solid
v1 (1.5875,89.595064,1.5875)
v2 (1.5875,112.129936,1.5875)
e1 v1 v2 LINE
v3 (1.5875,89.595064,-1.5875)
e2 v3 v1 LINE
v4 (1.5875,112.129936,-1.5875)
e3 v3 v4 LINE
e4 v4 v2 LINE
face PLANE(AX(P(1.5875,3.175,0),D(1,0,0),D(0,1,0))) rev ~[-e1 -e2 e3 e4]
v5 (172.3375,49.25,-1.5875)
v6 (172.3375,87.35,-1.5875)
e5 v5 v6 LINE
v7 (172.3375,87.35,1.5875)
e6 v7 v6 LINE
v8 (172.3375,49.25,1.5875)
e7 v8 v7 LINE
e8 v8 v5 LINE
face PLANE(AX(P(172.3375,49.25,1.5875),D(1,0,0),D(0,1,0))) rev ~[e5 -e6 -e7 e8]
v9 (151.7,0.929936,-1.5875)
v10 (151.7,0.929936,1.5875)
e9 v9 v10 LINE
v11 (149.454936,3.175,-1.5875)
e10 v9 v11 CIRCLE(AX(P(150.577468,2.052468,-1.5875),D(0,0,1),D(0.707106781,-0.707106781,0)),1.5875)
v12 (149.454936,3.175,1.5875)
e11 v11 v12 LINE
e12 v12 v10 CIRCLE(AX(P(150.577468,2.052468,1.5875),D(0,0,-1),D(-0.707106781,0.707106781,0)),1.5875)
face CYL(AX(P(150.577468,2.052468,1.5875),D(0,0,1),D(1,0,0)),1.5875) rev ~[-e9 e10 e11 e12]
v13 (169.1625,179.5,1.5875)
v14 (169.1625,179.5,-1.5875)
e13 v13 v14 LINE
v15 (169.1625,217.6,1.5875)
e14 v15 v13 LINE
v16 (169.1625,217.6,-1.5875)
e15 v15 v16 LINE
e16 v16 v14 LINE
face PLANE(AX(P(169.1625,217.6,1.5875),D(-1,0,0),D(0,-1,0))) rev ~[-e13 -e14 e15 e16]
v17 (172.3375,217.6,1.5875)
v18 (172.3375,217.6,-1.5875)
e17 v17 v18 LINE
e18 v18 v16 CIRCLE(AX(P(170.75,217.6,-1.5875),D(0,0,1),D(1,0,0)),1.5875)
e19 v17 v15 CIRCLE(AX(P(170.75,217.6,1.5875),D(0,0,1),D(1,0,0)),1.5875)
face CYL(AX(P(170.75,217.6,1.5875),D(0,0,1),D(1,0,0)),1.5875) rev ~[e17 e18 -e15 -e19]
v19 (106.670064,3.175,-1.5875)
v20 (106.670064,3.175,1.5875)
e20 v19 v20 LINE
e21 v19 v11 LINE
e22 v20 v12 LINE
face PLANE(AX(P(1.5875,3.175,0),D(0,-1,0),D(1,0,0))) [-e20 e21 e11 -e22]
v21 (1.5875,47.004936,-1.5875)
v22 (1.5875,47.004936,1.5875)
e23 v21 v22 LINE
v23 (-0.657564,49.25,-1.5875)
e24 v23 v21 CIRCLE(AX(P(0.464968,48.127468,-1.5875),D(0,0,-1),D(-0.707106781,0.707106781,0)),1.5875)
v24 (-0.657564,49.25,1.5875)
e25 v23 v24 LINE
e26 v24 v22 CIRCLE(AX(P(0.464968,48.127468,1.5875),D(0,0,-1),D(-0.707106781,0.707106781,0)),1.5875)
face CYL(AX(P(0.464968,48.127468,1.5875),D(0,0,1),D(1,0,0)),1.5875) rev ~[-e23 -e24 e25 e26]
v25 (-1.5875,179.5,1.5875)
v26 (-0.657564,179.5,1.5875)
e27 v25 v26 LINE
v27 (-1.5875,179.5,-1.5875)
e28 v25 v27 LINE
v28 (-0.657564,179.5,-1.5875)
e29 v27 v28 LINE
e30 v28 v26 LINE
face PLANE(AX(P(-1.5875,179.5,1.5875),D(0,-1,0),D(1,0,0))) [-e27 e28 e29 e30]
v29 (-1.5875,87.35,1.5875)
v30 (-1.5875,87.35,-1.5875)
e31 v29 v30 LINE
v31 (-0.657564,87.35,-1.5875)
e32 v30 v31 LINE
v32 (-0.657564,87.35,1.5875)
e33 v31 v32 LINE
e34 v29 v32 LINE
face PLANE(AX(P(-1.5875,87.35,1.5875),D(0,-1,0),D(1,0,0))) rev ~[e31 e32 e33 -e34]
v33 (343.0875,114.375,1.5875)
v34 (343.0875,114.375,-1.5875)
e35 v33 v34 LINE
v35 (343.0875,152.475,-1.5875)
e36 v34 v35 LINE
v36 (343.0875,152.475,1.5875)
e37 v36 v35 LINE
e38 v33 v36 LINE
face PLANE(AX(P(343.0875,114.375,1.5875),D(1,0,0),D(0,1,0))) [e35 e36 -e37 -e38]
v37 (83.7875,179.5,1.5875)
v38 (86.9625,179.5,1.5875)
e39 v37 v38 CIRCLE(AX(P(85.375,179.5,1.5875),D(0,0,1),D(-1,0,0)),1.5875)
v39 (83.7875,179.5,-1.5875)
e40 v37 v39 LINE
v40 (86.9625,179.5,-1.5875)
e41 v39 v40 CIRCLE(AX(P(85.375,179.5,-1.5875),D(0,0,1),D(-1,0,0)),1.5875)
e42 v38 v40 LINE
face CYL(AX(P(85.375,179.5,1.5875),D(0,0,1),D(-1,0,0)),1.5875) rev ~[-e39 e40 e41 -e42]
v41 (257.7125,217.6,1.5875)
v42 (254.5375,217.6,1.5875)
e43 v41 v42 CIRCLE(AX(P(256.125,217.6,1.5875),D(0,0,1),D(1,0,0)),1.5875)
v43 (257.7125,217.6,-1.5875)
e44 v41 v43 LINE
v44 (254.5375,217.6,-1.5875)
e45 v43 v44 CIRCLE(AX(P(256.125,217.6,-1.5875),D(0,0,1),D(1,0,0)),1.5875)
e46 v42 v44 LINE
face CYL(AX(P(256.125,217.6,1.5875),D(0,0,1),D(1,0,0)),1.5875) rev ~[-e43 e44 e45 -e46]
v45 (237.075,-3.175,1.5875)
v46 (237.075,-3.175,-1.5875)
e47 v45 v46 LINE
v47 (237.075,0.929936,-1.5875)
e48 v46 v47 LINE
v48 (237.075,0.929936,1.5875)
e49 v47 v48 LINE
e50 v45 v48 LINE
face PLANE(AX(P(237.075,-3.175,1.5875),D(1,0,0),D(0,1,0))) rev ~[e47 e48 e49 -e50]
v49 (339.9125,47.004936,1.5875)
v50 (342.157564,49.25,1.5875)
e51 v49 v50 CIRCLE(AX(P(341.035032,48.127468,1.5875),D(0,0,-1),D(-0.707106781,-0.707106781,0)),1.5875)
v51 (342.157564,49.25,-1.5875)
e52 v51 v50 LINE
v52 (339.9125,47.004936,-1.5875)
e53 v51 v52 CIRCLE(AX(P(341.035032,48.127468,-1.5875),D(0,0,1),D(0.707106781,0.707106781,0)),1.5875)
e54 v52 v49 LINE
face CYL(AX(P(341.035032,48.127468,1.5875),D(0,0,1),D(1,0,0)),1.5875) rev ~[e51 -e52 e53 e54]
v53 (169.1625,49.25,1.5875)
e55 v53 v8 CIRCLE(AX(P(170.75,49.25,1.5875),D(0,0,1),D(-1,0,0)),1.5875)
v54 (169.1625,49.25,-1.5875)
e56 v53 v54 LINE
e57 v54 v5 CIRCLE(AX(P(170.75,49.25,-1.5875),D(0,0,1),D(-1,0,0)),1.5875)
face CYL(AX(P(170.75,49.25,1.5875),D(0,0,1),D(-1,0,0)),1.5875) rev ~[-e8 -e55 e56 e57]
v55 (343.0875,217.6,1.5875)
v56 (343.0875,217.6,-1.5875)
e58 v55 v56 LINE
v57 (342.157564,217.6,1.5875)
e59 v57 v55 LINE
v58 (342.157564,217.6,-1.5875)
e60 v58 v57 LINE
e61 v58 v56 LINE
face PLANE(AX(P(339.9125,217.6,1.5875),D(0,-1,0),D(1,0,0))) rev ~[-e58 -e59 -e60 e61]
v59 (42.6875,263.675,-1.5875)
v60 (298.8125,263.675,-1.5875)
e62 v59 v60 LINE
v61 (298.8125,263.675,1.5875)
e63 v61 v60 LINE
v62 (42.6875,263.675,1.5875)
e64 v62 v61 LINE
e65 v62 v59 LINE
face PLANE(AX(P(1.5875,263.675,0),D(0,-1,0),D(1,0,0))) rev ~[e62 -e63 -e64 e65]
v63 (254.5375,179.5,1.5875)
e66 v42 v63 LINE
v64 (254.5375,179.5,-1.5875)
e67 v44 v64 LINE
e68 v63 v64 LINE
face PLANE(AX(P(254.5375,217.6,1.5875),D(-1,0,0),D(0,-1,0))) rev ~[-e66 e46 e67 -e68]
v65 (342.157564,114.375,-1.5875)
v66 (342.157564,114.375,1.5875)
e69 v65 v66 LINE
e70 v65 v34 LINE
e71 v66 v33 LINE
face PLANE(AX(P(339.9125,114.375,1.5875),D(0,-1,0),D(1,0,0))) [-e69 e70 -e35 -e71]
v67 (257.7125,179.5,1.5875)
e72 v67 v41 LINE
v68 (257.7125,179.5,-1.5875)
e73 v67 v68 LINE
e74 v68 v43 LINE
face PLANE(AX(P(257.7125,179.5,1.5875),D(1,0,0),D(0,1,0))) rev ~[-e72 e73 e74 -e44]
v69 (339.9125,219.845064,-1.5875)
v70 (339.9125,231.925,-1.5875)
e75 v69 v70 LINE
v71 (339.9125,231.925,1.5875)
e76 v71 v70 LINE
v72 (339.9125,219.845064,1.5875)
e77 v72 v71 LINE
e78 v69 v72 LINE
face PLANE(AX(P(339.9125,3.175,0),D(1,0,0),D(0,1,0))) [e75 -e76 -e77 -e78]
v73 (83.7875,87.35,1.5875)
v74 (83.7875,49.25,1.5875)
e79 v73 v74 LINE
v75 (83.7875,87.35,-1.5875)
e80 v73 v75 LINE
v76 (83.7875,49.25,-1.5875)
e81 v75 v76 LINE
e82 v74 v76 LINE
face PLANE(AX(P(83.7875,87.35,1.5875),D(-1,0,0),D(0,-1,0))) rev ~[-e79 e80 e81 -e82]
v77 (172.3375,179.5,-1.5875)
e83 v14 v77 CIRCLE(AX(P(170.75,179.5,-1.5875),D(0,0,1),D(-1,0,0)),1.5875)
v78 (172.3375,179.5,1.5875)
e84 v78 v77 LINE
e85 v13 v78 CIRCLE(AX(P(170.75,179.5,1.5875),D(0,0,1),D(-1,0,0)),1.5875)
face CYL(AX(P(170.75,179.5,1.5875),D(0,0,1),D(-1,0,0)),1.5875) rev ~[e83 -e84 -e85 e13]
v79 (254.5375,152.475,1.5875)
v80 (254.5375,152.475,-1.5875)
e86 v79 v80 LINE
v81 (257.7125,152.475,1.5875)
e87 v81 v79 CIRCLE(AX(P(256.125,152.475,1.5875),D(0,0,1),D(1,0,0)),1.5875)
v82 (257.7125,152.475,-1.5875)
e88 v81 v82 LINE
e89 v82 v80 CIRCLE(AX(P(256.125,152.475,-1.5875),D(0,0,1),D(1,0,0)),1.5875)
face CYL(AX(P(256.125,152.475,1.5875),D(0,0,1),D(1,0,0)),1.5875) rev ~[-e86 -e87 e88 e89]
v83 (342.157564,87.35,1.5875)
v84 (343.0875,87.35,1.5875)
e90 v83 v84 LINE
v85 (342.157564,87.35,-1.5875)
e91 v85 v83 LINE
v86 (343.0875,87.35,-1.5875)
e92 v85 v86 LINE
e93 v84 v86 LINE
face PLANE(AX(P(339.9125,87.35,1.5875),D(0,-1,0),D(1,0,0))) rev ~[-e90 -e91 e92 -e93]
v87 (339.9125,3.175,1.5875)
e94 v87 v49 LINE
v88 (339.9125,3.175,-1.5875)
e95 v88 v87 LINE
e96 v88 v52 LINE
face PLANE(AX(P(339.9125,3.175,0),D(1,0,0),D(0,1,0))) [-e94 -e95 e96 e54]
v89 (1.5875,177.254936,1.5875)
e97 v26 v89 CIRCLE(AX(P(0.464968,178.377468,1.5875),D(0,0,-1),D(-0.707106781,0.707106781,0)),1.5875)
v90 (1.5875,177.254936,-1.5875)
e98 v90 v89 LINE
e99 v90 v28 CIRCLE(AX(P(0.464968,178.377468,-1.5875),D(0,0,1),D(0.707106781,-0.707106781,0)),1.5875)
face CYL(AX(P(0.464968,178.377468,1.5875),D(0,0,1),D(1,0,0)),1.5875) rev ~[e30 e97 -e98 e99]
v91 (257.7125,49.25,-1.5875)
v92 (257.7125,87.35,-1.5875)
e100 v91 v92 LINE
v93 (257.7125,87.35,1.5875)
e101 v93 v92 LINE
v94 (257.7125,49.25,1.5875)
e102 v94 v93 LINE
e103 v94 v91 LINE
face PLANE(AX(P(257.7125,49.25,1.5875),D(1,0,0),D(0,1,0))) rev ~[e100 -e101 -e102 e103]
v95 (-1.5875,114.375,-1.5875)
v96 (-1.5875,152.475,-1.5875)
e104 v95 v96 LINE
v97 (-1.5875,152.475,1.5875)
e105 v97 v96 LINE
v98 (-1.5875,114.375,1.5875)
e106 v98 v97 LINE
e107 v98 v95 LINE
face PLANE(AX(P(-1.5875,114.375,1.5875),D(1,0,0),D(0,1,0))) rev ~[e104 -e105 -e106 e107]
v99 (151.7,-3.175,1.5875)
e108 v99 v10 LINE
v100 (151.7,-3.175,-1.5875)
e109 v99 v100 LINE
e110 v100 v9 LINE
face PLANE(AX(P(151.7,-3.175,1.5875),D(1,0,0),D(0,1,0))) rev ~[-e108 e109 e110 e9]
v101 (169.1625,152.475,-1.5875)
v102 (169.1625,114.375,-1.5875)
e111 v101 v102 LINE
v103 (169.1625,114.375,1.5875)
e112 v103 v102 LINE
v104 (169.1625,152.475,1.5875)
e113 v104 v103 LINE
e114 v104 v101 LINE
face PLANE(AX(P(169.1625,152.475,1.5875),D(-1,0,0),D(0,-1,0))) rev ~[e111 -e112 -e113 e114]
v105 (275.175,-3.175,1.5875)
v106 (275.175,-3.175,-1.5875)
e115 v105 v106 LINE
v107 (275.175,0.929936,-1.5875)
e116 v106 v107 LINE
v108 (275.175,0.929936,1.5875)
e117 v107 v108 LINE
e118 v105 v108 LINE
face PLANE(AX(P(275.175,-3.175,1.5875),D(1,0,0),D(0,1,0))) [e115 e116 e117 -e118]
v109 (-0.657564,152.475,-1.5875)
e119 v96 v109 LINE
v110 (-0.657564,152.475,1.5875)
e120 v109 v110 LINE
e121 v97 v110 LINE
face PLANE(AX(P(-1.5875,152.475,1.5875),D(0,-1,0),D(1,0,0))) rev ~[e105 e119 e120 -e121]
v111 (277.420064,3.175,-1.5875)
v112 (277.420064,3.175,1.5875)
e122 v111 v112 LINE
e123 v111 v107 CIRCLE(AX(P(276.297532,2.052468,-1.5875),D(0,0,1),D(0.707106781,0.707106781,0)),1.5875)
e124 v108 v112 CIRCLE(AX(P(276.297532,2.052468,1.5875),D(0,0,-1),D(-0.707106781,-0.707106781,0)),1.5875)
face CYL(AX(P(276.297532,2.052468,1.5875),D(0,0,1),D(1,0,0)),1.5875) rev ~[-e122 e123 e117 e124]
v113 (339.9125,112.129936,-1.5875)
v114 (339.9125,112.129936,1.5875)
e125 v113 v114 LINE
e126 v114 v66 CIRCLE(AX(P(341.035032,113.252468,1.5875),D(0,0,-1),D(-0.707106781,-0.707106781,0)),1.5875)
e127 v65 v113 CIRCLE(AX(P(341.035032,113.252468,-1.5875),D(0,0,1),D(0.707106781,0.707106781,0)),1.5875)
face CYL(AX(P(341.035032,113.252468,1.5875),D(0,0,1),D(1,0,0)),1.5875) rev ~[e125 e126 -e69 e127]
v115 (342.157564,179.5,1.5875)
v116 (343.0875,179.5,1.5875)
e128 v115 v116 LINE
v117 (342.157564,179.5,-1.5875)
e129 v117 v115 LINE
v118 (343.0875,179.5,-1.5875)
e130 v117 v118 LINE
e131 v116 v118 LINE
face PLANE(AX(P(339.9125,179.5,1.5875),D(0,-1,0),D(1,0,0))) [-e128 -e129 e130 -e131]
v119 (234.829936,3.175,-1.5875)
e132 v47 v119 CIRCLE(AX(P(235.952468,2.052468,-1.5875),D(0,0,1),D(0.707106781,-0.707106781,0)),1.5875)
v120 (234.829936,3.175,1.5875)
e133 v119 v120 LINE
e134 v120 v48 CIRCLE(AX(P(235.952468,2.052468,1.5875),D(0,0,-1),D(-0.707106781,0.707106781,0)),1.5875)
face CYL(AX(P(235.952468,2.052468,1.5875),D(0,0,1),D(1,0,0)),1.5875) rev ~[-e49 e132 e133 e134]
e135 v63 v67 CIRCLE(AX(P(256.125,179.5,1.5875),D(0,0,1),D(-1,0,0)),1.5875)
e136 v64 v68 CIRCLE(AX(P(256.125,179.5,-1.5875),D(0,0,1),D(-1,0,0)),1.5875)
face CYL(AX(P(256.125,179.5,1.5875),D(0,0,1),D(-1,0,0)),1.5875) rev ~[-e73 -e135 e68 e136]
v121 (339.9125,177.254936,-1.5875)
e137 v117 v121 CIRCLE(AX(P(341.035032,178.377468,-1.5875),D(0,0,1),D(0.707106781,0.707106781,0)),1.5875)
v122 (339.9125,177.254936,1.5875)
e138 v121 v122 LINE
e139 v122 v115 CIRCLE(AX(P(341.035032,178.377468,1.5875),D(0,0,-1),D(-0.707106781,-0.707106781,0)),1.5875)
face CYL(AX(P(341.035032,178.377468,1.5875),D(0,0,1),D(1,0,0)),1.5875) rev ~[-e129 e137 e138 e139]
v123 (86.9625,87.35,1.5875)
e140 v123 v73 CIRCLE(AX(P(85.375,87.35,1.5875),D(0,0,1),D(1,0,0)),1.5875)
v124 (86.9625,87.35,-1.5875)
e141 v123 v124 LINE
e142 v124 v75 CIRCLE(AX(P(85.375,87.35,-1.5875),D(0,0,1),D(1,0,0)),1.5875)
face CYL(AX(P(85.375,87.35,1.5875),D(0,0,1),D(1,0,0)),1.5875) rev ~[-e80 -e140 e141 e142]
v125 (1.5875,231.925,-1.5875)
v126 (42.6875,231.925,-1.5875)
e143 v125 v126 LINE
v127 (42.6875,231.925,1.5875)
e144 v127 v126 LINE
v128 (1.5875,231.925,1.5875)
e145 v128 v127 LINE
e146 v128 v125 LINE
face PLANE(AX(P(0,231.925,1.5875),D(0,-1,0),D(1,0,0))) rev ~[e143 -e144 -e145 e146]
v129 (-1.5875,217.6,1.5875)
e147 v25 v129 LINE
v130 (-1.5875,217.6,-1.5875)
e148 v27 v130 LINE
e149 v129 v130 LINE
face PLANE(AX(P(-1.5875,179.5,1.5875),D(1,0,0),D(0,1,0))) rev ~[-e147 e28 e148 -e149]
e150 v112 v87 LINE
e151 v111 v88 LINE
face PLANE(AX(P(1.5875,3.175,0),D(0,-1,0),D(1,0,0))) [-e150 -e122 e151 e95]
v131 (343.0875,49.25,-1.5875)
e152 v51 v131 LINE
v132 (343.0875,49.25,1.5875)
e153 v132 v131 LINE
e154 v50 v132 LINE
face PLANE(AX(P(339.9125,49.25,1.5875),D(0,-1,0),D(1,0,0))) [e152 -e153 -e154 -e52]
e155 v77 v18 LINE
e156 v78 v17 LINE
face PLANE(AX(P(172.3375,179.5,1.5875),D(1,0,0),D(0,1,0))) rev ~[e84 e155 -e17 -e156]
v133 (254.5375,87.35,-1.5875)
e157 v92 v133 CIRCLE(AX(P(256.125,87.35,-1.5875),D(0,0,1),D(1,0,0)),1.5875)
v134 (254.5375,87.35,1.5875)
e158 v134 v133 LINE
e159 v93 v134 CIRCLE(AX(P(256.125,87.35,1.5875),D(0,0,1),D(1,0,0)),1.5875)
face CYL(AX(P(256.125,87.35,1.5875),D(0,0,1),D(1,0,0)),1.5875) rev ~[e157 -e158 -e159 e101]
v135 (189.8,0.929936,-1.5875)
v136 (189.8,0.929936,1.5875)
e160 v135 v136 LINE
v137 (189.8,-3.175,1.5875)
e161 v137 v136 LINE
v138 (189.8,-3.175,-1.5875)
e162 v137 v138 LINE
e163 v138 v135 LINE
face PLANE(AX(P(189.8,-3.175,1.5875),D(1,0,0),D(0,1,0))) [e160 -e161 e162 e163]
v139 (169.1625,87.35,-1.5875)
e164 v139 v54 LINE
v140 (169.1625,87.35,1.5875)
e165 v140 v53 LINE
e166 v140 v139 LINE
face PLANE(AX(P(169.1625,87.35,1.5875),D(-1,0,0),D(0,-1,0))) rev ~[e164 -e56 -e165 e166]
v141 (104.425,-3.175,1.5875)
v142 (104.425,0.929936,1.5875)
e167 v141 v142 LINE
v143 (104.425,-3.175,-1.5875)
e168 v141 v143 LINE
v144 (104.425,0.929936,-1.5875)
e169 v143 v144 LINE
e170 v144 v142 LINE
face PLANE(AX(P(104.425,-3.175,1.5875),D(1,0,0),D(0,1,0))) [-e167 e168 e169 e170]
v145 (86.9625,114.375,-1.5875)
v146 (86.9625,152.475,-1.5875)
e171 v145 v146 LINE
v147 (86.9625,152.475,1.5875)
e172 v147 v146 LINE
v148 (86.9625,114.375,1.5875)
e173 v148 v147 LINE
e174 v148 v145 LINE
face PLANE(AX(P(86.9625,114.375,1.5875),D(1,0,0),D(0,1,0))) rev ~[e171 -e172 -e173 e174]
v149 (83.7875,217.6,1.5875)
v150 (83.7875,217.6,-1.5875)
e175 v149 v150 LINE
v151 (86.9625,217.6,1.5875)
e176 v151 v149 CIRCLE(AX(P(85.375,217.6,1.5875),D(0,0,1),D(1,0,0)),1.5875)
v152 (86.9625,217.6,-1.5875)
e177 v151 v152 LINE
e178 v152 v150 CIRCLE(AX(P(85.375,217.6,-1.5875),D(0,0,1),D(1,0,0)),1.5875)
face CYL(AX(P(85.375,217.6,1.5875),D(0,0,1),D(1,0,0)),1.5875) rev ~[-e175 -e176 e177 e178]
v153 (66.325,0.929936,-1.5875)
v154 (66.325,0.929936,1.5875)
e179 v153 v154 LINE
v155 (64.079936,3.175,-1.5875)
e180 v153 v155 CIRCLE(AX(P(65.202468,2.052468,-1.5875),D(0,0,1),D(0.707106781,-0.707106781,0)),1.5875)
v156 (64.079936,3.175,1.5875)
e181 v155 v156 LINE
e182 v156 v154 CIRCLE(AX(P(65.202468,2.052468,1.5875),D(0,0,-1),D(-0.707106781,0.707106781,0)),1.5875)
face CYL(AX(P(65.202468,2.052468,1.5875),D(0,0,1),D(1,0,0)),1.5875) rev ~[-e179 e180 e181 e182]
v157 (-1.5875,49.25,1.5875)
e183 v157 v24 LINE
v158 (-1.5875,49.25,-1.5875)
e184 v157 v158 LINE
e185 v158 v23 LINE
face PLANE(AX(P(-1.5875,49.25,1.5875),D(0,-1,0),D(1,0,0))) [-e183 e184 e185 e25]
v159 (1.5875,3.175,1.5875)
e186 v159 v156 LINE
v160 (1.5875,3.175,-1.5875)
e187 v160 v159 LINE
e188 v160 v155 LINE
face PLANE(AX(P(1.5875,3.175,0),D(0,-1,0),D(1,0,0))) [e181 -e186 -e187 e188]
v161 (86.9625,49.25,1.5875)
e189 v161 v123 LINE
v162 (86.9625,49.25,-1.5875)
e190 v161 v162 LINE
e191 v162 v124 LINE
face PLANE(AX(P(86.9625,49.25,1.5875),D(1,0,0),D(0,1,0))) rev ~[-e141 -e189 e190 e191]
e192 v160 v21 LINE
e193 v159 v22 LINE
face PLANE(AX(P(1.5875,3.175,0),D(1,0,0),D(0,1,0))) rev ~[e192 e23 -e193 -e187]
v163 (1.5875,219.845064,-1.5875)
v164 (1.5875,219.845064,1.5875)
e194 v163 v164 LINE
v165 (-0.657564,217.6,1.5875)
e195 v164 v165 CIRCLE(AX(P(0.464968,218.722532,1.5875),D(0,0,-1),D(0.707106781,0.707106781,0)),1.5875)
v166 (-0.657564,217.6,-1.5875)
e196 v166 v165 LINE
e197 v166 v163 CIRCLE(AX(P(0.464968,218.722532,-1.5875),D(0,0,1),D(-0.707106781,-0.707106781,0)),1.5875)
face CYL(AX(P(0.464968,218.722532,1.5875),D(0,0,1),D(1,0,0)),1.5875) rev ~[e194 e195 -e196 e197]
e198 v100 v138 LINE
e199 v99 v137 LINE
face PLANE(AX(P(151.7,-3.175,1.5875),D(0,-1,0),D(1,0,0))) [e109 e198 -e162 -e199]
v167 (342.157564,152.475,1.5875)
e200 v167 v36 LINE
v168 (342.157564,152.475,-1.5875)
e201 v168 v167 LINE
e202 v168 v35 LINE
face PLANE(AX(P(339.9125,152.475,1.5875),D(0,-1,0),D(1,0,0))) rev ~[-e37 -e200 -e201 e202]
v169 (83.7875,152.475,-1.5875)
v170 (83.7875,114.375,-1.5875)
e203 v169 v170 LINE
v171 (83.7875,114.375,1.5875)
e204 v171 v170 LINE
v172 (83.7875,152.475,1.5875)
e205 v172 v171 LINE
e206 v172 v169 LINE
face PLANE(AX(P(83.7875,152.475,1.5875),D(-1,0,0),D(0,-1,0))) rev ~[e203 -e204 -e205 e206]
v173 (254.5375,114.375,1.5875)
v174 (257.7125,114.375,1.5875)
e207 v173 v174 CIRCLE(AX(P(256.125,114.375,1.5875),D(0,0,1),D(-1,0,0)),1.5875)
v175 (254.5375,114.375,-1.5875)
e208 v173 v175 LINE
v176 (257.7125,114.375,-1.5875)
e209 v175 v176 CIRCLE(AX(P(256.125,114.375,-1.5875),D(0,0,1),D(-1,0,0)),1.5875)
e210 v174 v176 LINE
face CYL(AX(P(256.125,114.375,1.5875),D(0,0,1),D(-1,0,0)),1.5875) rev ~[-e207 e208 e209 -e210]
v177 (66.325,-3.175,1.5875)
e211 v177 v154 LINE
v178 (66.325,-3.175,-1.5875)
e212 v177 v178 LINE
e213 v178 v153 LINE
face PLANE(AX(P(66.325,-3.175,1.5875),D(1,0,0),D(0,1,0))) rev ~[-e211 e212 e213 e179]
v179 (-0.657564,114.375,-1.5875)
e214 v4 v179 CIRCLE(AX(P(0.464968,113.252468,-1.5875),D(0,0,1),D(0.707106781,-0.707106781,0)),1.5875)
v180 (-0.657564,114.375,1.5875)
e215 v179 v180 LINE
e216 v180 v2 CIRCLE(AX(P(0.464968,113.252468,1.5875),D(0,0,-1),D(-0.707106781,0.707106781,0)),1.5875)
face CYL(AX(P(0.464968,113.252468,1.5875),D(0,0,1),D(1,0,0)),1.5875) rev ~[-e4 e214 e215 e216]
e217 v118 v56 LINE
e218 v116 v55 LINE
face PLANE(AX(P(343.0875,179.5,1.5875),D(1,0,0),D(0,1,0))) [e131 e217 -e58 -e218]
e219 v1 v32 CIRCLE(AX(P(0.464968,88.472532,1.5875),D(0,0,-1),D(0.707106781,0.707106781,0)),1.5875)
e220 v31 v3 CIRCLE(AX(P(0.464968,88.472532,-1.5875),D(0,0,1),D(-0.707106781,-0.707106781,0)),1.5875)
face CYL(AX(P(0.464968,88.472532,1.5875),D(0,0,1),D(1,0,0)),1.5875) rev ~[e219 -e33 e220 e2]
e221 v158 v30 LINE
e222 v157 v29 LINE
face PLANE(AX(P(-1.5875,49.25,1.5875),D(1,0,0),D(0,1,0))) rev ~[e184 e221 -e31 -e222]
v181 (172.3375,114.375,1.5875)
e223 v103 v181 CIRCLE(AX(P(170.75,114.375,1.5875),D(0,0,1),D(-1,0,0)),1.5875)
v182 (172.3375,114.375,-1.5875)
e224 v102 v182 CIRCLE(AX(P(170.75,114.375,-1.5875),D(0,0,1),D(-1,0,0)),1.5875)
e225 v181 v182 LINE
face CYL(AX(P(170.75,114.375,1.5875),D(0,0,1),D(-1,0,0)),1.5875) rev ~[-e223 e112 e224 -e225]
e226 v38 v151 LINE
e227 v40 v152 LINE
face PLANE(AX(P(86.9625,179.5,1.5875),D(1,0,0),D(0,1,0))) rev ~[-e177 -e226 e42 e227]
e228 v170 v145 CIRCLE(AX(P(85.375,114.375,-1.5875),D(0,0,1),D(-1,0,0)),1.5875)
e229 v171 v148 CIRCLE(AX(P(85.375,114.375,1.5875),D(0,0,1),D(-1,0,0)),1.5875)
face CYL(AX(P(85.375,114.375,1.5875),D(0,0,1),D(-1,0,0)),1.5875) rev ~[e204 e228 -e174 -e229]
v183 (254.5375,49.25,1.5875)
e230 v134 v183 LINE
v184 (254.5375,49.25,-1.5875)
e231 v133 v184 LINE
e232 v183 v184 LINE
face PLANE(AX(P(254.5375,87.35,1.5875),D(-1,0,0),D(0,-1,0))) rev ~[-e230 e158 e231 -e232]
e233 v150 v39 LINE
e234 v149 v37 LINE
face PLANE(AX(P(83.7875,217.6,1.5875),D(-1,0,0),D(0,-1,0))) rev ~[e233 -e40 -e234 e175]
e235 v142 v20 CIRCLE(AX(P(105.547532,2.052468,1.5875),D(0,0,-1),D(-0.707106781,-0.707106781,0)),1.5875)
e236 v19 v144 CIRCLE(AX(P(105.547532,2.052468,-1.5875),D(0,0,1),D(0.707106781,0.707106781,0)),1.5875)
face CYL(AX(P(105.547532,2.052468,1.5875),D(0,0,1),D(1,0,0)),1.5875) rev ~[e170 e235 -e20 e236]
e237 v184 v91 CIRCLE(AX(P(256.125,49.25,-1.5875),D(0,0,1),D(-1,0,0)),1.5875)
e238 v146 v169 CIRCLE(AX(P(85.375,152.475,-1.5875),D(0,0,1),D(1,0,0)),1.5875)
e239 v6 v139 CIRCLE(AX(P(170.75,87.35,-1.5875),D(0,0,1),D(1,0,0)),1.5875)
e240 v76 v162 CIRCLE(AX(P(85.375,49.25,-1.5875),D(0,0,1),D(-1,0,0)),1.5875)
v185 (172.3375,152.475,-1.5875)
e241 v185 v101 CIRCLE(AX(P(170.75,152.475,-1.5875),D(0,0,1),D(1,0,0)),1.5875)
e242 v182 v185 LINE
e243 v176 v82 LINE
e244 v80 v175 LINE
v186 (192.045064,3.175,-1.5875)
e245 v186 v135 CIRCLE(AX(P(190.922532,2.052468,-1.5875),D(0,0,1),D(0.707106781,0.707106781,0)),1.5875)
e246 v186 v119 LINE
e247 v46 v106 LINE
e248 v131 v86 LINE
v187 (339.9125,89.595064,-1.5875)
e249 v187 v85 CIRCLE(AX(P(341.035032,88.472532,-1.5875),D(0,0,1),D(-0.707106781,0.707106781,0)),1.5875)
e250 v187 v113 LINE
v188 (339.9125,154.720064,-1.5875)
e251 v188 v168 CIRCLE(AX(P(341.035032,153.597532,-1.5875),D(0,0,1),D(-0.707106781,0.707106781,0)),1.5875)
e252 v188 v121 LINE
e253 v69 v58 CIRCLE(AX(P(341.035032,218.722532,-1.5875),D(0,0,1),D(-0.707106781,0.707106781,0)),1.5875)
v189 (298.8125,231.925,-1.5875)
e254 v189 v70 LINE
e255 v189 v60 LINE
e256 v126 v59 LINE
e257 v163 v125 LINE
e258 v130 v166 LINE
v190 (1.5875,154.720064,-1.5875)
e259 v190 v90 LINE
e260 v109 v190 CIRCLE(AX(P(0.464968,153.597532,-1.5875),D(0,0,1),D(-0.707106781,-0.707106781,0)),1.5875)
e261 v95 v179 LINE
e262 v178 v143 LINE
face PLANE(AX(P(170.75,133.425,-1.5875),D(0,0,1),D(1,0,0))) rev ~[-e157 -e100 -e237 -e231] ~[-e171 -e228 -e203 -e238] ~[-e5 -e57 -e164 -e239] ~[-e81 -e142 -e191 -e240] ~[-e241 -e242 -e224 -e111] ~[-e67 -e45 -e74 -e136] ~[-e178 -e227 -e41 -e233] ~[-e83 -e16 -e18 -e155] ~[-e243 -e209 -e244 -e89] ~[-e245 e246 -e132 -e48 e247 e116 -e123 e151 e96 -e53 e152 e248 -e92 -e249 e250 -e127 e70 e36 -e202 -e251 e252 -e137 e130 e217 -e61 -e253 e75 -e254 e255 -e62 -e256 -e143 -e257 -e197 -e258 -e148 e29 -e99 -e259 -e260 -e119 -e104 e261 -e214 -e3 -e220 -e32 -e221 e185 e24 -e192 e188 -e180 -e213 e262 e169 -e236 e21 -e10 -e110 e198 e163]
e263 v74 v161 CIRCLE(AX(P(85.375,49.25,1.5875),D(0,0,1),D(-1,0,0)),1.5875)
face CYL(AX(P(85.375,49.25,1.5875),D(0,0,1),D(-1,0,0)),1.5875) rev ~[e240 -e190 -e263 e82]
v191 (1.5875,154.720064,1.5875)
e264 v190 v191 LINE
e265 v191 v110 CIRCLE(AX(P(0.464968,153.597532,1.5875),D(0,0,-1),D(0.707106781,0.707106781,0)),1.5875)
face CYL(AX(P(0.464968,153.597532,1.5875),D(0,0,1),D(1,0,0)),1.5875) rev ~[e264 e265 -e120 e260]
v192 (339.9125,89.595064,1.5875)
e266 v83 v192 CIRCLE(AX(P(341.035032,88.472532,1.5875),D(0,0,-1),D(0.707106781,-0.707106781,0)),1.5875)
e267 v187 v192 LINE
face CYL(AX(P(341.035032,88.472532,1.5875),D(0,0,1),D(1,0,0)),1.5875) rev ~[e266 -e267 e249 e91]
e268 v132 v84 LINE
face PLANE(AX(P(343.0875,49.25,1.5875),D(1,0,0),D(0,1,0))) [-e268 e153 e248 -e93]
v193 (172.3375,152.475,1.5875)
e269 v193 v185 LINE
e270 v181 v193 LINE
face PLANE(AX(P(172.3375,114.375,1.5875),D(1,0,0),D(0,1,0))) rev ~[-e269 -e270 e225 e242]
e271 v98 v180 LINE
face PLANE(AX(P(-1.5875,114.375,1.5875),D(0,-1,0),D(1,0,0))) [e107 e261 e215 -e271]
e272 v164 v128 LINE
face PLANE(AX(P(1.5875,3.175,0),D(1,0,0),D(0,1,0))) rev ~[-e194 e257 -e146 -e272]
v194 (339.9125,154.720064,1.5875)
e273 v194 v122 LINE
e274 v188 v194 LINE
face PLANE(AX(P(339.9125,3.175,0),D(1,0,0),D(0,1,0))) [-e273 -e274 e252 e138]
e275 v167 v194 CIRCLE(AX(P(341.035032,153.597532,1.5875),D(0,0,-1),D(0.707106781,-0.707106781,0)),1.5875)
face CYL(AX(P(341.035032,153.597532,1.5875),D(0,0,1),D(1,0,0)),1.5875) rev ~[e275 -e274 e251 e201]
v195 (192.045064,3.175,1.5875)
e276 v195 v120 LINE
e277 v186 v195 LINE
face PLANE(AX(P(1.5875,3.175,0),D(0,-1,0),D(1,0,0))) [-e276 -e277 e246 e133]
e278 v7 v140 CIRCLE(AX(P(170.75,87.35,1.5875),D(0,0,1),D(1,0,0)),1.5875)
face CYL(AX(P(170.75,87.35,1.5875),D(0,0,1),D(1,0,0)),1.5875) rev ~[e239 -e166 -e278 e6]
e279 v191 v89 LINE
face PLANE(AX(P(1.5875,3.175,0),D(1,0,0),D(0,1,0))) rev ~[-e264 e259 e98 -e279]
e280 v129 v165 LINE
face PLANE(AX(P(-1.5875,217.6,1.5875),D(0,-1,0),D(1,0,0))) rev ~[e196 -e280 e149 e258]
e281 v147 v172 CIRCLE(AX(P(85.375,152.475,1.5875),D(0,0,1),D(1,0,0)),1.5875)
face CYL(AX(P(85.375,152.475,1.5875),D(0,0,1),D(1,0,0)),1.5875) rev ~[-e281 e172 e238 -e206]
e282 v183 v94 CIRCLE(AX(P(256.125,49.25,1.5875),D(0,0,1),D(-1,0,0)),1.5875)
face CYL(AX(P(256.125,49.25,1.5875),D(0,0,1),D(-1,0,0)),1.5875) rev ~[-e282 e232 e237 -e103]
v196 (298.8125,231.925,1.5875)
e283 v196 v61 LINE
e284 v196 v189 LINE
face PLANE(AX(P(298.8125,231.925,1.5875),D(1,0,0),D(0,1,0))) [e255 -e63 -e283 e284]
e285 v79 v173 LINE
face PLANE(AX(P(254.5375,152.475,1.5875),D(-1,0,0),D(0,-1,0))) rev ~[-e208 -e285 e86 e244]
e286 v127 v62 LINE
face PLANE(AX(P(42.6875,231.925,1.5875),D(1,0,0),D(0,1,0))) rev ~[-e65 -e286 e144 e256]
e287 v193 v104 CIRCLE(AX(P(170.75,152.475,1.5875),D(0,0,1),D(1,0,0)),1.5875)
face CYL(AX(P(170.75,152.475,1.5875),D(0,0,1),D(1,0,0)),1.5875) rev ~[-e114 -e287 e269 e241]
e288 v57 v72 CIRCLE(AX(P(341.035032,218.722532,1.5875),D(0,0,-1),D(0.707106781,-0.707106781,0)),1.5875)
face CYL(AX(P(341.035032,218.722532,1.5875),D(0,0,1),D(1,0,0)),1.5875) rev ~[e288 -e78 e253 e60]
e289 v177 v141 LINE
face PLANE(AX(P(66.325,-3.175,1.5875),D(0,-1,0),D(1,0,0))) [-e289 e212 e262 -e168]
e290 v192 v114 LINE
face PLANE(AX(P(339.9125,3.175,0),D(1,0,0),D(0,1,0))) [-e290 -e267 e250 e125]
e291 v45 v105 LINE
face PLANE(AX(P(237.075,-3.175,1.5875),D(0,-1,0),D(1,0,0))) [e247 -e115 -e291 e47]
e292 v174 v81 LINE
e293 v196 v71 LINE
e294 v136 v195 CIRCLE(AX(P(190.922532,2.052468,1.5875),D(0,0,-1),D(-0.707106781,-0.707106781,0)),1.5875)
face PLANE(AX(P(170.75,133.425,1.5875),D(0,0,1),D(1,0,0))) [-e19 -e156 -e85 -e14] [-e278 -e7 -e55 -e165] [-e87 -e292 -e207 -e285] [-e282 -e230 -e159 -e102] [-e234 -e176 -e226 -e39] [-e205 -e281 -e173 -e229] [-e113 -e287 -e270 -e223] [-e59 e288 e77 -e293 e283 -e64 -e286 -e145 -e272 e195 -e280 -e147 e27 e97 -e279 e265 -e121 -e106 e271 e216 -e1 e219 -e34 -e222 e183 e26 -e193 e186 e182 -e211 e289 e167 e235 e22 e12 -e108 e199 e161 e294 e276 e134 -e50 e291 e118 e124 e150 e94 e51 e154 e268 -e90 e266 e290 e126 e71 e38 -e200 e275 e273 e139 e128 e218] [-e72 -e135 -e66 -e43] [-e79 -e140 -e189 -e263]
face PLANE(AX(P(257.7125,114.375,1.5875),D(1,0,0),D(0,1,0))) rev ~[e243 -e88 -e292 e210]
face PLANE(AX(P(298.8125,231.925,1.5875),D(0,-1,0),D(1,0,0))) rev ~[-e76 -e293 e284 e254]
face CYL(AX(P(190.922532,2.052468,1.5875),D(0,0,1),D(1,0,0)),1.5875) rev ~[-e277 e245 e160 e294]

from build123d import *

# Parameters (mm, degrees)
SKETCH1_W           = 338.325
SKETCH1_H           = 260.5
BOSS_EXTRUDE1_DEPTH = 1.5875
CUT_EXTRUDE1_DEPTH  = 3.175
SKETCH4_W           = 3.175
SKETCH4_H           = 38.1
SKETCH4_W_2         = 38.1
SKETCH4_H_2         = 6.35
BOSS_EXTRUDE2_DEPTH = 3.175
SKETCH5_R           = 1.5875
CUT_EXTRUDE3_DEPTH  = 3.175
SKETCH6_W           = 42.6875
SKETCH6_H           = 31.75
CUT_EXTRUDE4_DEPTH  = 3.175


with BuildPart() as part:
    # Sketch1 → Boss-Extrude1 (new body, symmetric)
    with BuildSketch(Plane.XY):
        with Locations((170.75, 133.425)):
            Rectangle(SKETCH1_W, SKETCH1_H)
    extrude(amount=BOSS_EXTRUDE1_DEPTH, both=True)

    # Sketch3 → Cut-Extrude1 (cut)
    with BuildSketch(Plane.XY.offset(1.5875)):
        with BuildLine():
            Line((169.1625, 217.6), (169.1625, 179.5))
            ThreePointArc((169.1625, 179.5), (170.75, 177.9125), (172.3375, 179.5))
            Line((172.3375, 179.5), (172.3375, 217.6))
            ThreePointArc((172.3375, 217.6), (170.75, 219.1875), (169.1625, 217.6))
        make_face()
        with BuildLine():
            Line((83.7875, 217.6), (83.7875, 179.5))
            ThreePointArc((83.7875, 179.5), (85.375, 177.9125), (86.9625, 179.5))
            Line((86.9625, 179.5), (86.9625, 217.6))
            ThreePointArc((86.9625, 217.6), (85.375, 219.1875), (83.7875, 217.6))
        make_face()
        with BuildLine():
            Line((254.5375, 217.6), (254.5375, 179.5))
            ThreePointArc((254.5375, 179.5), (256.125, 177.9125), (257.7125, 179.5))
            Line((257.7125, 179.5), (257.7125, 217.6))
            ThreePointArc((257.7125, 217.6), (256.125, 219.1875), (254.5375, 217.6))
        make_face()
        with BuildLine():
            Line((169.1625, 152.475), (169.1625, 114.375))
            ThreePointArc((169.1625, 114.375), (170.75, 112.7875), (172.3375, 114.375))
            Line((172.3375, 114.375), (172.3375, 152.475))
            ThreePointArc((172.3375, 152.475), (170.75, 154.0625), (169.1625, 152.475))
        make_face()
        with BuildLine():
            Line((83.7875, 152.475), (83.7875, 114.375))
            ThreePointArc((83.7875, 114.375), (85.375, 112.7875), (86.9625, 114.375))
            Line((86.9625, 114.375), (86.9625, 152.475))
            ThreePointArc((86.9625, 152.475), (85.375, 154.0625), (83.7875, 152.475))
        make_face()
        with BuildLine():
            Line((254.5375, 152.475), (254.5375, 114.375))
            ThreePointArc((254.5375, 114.375), (256.125, 112.7875), (257.7125, 114.375))
            Line((257.7125, 114.375), (257.7125, 152.475))
            ThreePointArc((257.7125, 152.475), (256.125, 154.0625), (254.5375, 152.475))
        make_face()
        with BuildLine():
            Line((169.1625, 87.35), (169.1625, 49.25))
            ThreePointArc((169.1625, 49.25), (170.75, 47.6625), (172.3375, 49.25))
            Line((172.3375, 49.25), (172.3375, 87.35))
            ThreePointArc((172.3375, 87.35), (170.75, 88.9375), (169.1625, 87.35))
        make_face()
        with BuildLine():
            Line((83.7875, 87.35), (83.7875, 49.25))
            ThreePointArc((83.7875, 49.25), (85.375, 47.6625), (86.9625, 49.25))
            Line((86.9625, 49.25), (86.9625, 87.35))
            ThreePointArc((86.9625, 87.35), (85.375, 88.9375), (83.7875, 87.35))
        make_face()
        with BuildLine():
            Line((254.5375, 87.35), (254.5375, 49.25))
            ThreePointArc((254.5375, 49.25), (256.125, 47.6625), (257.7125, 49.25))
            Line((257.7125, 49.25), (257.7125, 87.35))
            ThreePointArc((257.7125, 87.35), (256.125, 88.9375), (254.5375, 87.35))
        make_face()
    extrude(amount=-CUT_EXTRUDE1_DEPTH, mode=Mode.SUBTRACT)

    # Sketch4 → Boss-Extrude2 (add)
    with BuildSketch(Plane.XY.offset(1.5875)):
        with Locations((0, 198.55)):
            Rectangle(SKETCH4_W, SKETCH4_H)
        with Locations((0, 133.425)):
            Rectangle(SKETCH4_W, SKETCH4_H)
        with Locations((0, 68.3)):
            Rectangle(SKETCH4_W, SKETCH4_H)
        with Locations((85.375, 0)):
            Rectangle(SKETCH4_W_2, SKETCH4_H_2)
        with Locations((170.75, 0)):
            Rectangle(SKETCH4_W_2, SKETCH4_H_2)
        with Locations((256.125, 0)):
            Rectangle(SKETCH4_W_2, SKETCH4_H_2)
        with Locations((341.5, 68.3)):
            Rectangle(SKETCH4_W, SKETCH4_H)
        with Locations((341.5, 133.425)):
            Rectangle(SKETCH4_W, SKETCH4_H)
        with Locations((341.5, 198.55)):
            Rectangle(SKETCH4_W, SKETCH4_H)
    extrude(amount=-BOSS_EXTRUDE2_DEPTH)

    # Sketch5 → Cut-Extrude3 (cut)
    with BuildSketch(Plane.XY.offset(1.5875)):
        with Locations((0.464967985, 218.722532015)):
            Circle(SKETCH5_R)
        with Locations((0.464967985, 178.377467985)):
            Circle(SKETCH5_R)
        with Locations((0.464967985, 153.597532015)):
            Circle(SKETCH5_R)
        with Locations((0.464967985, 113.252467985)):
            Circle(SKETCH5_R)
        with Locations((0.464967985, 88.472532015)):
            Circle(SKETCH5_R)
        with Locations((0.464967985, 48.127467985)):
            Circle(SKETCH5_R)
        with Locations((341.035032015, 48.127467985)):
            Circle(SKETCH5_R)
        with Locations((341.035032015, 88.472532015)):
            Circle(SKETCH5_R)
        with Locations((341.035032015, 113.252467985)):
            Circle(SKETCH5_R)
        with Locations((341.035032015, 153.597532015)):
            Circle(SKETCH5_R)
        with Locations((341.035032015, 178.377467985)):
            Circle(SKETCH5_R)
        with Locations((341.035032015, 218.722532015)):
            Circle(SKETCH5_R)
        with Locations((65.202467985, 2.052467985)):
            Circle(SKETCH5_R)
        with Locations((105.547532015, 2.052467985)):
            Circle(SKETCH5_R)
        with Locations((150.577467985, 2.052467985)):
            Circle(SKETCH5_R)
        with Locations((190.922532015, 2.052467985)):
            Circle(SKETCH5_R)
        with Locations((235.952467985, 2.052467985)):
            Circle(SKETCH5_R)
        with Locations((276.297532015, 2.052467985)):
            Circle(SKETCH5_R)
    extrude(amount=-CUT_EXTRUDE3_DEPTH, mode=Mode.SUBTRACT)

    # Sketch6 → Cut-Extrude4 (cut)
    with BuildSketch(Plane.XY.offset(1.5875)):
        with Locations((320.15625, 247.8)):
            Rectangle(SKETCH6_W, SKETCH6_H)
        with Locations((21.34375, 247.8)):
            Rectangle(SKETCH6_W, SKETCH6_H)
    extrude(amount=-CUT_EXTRUDE4_DEPTH, mode=Mode.SUBTRACT)


solid = part.part
